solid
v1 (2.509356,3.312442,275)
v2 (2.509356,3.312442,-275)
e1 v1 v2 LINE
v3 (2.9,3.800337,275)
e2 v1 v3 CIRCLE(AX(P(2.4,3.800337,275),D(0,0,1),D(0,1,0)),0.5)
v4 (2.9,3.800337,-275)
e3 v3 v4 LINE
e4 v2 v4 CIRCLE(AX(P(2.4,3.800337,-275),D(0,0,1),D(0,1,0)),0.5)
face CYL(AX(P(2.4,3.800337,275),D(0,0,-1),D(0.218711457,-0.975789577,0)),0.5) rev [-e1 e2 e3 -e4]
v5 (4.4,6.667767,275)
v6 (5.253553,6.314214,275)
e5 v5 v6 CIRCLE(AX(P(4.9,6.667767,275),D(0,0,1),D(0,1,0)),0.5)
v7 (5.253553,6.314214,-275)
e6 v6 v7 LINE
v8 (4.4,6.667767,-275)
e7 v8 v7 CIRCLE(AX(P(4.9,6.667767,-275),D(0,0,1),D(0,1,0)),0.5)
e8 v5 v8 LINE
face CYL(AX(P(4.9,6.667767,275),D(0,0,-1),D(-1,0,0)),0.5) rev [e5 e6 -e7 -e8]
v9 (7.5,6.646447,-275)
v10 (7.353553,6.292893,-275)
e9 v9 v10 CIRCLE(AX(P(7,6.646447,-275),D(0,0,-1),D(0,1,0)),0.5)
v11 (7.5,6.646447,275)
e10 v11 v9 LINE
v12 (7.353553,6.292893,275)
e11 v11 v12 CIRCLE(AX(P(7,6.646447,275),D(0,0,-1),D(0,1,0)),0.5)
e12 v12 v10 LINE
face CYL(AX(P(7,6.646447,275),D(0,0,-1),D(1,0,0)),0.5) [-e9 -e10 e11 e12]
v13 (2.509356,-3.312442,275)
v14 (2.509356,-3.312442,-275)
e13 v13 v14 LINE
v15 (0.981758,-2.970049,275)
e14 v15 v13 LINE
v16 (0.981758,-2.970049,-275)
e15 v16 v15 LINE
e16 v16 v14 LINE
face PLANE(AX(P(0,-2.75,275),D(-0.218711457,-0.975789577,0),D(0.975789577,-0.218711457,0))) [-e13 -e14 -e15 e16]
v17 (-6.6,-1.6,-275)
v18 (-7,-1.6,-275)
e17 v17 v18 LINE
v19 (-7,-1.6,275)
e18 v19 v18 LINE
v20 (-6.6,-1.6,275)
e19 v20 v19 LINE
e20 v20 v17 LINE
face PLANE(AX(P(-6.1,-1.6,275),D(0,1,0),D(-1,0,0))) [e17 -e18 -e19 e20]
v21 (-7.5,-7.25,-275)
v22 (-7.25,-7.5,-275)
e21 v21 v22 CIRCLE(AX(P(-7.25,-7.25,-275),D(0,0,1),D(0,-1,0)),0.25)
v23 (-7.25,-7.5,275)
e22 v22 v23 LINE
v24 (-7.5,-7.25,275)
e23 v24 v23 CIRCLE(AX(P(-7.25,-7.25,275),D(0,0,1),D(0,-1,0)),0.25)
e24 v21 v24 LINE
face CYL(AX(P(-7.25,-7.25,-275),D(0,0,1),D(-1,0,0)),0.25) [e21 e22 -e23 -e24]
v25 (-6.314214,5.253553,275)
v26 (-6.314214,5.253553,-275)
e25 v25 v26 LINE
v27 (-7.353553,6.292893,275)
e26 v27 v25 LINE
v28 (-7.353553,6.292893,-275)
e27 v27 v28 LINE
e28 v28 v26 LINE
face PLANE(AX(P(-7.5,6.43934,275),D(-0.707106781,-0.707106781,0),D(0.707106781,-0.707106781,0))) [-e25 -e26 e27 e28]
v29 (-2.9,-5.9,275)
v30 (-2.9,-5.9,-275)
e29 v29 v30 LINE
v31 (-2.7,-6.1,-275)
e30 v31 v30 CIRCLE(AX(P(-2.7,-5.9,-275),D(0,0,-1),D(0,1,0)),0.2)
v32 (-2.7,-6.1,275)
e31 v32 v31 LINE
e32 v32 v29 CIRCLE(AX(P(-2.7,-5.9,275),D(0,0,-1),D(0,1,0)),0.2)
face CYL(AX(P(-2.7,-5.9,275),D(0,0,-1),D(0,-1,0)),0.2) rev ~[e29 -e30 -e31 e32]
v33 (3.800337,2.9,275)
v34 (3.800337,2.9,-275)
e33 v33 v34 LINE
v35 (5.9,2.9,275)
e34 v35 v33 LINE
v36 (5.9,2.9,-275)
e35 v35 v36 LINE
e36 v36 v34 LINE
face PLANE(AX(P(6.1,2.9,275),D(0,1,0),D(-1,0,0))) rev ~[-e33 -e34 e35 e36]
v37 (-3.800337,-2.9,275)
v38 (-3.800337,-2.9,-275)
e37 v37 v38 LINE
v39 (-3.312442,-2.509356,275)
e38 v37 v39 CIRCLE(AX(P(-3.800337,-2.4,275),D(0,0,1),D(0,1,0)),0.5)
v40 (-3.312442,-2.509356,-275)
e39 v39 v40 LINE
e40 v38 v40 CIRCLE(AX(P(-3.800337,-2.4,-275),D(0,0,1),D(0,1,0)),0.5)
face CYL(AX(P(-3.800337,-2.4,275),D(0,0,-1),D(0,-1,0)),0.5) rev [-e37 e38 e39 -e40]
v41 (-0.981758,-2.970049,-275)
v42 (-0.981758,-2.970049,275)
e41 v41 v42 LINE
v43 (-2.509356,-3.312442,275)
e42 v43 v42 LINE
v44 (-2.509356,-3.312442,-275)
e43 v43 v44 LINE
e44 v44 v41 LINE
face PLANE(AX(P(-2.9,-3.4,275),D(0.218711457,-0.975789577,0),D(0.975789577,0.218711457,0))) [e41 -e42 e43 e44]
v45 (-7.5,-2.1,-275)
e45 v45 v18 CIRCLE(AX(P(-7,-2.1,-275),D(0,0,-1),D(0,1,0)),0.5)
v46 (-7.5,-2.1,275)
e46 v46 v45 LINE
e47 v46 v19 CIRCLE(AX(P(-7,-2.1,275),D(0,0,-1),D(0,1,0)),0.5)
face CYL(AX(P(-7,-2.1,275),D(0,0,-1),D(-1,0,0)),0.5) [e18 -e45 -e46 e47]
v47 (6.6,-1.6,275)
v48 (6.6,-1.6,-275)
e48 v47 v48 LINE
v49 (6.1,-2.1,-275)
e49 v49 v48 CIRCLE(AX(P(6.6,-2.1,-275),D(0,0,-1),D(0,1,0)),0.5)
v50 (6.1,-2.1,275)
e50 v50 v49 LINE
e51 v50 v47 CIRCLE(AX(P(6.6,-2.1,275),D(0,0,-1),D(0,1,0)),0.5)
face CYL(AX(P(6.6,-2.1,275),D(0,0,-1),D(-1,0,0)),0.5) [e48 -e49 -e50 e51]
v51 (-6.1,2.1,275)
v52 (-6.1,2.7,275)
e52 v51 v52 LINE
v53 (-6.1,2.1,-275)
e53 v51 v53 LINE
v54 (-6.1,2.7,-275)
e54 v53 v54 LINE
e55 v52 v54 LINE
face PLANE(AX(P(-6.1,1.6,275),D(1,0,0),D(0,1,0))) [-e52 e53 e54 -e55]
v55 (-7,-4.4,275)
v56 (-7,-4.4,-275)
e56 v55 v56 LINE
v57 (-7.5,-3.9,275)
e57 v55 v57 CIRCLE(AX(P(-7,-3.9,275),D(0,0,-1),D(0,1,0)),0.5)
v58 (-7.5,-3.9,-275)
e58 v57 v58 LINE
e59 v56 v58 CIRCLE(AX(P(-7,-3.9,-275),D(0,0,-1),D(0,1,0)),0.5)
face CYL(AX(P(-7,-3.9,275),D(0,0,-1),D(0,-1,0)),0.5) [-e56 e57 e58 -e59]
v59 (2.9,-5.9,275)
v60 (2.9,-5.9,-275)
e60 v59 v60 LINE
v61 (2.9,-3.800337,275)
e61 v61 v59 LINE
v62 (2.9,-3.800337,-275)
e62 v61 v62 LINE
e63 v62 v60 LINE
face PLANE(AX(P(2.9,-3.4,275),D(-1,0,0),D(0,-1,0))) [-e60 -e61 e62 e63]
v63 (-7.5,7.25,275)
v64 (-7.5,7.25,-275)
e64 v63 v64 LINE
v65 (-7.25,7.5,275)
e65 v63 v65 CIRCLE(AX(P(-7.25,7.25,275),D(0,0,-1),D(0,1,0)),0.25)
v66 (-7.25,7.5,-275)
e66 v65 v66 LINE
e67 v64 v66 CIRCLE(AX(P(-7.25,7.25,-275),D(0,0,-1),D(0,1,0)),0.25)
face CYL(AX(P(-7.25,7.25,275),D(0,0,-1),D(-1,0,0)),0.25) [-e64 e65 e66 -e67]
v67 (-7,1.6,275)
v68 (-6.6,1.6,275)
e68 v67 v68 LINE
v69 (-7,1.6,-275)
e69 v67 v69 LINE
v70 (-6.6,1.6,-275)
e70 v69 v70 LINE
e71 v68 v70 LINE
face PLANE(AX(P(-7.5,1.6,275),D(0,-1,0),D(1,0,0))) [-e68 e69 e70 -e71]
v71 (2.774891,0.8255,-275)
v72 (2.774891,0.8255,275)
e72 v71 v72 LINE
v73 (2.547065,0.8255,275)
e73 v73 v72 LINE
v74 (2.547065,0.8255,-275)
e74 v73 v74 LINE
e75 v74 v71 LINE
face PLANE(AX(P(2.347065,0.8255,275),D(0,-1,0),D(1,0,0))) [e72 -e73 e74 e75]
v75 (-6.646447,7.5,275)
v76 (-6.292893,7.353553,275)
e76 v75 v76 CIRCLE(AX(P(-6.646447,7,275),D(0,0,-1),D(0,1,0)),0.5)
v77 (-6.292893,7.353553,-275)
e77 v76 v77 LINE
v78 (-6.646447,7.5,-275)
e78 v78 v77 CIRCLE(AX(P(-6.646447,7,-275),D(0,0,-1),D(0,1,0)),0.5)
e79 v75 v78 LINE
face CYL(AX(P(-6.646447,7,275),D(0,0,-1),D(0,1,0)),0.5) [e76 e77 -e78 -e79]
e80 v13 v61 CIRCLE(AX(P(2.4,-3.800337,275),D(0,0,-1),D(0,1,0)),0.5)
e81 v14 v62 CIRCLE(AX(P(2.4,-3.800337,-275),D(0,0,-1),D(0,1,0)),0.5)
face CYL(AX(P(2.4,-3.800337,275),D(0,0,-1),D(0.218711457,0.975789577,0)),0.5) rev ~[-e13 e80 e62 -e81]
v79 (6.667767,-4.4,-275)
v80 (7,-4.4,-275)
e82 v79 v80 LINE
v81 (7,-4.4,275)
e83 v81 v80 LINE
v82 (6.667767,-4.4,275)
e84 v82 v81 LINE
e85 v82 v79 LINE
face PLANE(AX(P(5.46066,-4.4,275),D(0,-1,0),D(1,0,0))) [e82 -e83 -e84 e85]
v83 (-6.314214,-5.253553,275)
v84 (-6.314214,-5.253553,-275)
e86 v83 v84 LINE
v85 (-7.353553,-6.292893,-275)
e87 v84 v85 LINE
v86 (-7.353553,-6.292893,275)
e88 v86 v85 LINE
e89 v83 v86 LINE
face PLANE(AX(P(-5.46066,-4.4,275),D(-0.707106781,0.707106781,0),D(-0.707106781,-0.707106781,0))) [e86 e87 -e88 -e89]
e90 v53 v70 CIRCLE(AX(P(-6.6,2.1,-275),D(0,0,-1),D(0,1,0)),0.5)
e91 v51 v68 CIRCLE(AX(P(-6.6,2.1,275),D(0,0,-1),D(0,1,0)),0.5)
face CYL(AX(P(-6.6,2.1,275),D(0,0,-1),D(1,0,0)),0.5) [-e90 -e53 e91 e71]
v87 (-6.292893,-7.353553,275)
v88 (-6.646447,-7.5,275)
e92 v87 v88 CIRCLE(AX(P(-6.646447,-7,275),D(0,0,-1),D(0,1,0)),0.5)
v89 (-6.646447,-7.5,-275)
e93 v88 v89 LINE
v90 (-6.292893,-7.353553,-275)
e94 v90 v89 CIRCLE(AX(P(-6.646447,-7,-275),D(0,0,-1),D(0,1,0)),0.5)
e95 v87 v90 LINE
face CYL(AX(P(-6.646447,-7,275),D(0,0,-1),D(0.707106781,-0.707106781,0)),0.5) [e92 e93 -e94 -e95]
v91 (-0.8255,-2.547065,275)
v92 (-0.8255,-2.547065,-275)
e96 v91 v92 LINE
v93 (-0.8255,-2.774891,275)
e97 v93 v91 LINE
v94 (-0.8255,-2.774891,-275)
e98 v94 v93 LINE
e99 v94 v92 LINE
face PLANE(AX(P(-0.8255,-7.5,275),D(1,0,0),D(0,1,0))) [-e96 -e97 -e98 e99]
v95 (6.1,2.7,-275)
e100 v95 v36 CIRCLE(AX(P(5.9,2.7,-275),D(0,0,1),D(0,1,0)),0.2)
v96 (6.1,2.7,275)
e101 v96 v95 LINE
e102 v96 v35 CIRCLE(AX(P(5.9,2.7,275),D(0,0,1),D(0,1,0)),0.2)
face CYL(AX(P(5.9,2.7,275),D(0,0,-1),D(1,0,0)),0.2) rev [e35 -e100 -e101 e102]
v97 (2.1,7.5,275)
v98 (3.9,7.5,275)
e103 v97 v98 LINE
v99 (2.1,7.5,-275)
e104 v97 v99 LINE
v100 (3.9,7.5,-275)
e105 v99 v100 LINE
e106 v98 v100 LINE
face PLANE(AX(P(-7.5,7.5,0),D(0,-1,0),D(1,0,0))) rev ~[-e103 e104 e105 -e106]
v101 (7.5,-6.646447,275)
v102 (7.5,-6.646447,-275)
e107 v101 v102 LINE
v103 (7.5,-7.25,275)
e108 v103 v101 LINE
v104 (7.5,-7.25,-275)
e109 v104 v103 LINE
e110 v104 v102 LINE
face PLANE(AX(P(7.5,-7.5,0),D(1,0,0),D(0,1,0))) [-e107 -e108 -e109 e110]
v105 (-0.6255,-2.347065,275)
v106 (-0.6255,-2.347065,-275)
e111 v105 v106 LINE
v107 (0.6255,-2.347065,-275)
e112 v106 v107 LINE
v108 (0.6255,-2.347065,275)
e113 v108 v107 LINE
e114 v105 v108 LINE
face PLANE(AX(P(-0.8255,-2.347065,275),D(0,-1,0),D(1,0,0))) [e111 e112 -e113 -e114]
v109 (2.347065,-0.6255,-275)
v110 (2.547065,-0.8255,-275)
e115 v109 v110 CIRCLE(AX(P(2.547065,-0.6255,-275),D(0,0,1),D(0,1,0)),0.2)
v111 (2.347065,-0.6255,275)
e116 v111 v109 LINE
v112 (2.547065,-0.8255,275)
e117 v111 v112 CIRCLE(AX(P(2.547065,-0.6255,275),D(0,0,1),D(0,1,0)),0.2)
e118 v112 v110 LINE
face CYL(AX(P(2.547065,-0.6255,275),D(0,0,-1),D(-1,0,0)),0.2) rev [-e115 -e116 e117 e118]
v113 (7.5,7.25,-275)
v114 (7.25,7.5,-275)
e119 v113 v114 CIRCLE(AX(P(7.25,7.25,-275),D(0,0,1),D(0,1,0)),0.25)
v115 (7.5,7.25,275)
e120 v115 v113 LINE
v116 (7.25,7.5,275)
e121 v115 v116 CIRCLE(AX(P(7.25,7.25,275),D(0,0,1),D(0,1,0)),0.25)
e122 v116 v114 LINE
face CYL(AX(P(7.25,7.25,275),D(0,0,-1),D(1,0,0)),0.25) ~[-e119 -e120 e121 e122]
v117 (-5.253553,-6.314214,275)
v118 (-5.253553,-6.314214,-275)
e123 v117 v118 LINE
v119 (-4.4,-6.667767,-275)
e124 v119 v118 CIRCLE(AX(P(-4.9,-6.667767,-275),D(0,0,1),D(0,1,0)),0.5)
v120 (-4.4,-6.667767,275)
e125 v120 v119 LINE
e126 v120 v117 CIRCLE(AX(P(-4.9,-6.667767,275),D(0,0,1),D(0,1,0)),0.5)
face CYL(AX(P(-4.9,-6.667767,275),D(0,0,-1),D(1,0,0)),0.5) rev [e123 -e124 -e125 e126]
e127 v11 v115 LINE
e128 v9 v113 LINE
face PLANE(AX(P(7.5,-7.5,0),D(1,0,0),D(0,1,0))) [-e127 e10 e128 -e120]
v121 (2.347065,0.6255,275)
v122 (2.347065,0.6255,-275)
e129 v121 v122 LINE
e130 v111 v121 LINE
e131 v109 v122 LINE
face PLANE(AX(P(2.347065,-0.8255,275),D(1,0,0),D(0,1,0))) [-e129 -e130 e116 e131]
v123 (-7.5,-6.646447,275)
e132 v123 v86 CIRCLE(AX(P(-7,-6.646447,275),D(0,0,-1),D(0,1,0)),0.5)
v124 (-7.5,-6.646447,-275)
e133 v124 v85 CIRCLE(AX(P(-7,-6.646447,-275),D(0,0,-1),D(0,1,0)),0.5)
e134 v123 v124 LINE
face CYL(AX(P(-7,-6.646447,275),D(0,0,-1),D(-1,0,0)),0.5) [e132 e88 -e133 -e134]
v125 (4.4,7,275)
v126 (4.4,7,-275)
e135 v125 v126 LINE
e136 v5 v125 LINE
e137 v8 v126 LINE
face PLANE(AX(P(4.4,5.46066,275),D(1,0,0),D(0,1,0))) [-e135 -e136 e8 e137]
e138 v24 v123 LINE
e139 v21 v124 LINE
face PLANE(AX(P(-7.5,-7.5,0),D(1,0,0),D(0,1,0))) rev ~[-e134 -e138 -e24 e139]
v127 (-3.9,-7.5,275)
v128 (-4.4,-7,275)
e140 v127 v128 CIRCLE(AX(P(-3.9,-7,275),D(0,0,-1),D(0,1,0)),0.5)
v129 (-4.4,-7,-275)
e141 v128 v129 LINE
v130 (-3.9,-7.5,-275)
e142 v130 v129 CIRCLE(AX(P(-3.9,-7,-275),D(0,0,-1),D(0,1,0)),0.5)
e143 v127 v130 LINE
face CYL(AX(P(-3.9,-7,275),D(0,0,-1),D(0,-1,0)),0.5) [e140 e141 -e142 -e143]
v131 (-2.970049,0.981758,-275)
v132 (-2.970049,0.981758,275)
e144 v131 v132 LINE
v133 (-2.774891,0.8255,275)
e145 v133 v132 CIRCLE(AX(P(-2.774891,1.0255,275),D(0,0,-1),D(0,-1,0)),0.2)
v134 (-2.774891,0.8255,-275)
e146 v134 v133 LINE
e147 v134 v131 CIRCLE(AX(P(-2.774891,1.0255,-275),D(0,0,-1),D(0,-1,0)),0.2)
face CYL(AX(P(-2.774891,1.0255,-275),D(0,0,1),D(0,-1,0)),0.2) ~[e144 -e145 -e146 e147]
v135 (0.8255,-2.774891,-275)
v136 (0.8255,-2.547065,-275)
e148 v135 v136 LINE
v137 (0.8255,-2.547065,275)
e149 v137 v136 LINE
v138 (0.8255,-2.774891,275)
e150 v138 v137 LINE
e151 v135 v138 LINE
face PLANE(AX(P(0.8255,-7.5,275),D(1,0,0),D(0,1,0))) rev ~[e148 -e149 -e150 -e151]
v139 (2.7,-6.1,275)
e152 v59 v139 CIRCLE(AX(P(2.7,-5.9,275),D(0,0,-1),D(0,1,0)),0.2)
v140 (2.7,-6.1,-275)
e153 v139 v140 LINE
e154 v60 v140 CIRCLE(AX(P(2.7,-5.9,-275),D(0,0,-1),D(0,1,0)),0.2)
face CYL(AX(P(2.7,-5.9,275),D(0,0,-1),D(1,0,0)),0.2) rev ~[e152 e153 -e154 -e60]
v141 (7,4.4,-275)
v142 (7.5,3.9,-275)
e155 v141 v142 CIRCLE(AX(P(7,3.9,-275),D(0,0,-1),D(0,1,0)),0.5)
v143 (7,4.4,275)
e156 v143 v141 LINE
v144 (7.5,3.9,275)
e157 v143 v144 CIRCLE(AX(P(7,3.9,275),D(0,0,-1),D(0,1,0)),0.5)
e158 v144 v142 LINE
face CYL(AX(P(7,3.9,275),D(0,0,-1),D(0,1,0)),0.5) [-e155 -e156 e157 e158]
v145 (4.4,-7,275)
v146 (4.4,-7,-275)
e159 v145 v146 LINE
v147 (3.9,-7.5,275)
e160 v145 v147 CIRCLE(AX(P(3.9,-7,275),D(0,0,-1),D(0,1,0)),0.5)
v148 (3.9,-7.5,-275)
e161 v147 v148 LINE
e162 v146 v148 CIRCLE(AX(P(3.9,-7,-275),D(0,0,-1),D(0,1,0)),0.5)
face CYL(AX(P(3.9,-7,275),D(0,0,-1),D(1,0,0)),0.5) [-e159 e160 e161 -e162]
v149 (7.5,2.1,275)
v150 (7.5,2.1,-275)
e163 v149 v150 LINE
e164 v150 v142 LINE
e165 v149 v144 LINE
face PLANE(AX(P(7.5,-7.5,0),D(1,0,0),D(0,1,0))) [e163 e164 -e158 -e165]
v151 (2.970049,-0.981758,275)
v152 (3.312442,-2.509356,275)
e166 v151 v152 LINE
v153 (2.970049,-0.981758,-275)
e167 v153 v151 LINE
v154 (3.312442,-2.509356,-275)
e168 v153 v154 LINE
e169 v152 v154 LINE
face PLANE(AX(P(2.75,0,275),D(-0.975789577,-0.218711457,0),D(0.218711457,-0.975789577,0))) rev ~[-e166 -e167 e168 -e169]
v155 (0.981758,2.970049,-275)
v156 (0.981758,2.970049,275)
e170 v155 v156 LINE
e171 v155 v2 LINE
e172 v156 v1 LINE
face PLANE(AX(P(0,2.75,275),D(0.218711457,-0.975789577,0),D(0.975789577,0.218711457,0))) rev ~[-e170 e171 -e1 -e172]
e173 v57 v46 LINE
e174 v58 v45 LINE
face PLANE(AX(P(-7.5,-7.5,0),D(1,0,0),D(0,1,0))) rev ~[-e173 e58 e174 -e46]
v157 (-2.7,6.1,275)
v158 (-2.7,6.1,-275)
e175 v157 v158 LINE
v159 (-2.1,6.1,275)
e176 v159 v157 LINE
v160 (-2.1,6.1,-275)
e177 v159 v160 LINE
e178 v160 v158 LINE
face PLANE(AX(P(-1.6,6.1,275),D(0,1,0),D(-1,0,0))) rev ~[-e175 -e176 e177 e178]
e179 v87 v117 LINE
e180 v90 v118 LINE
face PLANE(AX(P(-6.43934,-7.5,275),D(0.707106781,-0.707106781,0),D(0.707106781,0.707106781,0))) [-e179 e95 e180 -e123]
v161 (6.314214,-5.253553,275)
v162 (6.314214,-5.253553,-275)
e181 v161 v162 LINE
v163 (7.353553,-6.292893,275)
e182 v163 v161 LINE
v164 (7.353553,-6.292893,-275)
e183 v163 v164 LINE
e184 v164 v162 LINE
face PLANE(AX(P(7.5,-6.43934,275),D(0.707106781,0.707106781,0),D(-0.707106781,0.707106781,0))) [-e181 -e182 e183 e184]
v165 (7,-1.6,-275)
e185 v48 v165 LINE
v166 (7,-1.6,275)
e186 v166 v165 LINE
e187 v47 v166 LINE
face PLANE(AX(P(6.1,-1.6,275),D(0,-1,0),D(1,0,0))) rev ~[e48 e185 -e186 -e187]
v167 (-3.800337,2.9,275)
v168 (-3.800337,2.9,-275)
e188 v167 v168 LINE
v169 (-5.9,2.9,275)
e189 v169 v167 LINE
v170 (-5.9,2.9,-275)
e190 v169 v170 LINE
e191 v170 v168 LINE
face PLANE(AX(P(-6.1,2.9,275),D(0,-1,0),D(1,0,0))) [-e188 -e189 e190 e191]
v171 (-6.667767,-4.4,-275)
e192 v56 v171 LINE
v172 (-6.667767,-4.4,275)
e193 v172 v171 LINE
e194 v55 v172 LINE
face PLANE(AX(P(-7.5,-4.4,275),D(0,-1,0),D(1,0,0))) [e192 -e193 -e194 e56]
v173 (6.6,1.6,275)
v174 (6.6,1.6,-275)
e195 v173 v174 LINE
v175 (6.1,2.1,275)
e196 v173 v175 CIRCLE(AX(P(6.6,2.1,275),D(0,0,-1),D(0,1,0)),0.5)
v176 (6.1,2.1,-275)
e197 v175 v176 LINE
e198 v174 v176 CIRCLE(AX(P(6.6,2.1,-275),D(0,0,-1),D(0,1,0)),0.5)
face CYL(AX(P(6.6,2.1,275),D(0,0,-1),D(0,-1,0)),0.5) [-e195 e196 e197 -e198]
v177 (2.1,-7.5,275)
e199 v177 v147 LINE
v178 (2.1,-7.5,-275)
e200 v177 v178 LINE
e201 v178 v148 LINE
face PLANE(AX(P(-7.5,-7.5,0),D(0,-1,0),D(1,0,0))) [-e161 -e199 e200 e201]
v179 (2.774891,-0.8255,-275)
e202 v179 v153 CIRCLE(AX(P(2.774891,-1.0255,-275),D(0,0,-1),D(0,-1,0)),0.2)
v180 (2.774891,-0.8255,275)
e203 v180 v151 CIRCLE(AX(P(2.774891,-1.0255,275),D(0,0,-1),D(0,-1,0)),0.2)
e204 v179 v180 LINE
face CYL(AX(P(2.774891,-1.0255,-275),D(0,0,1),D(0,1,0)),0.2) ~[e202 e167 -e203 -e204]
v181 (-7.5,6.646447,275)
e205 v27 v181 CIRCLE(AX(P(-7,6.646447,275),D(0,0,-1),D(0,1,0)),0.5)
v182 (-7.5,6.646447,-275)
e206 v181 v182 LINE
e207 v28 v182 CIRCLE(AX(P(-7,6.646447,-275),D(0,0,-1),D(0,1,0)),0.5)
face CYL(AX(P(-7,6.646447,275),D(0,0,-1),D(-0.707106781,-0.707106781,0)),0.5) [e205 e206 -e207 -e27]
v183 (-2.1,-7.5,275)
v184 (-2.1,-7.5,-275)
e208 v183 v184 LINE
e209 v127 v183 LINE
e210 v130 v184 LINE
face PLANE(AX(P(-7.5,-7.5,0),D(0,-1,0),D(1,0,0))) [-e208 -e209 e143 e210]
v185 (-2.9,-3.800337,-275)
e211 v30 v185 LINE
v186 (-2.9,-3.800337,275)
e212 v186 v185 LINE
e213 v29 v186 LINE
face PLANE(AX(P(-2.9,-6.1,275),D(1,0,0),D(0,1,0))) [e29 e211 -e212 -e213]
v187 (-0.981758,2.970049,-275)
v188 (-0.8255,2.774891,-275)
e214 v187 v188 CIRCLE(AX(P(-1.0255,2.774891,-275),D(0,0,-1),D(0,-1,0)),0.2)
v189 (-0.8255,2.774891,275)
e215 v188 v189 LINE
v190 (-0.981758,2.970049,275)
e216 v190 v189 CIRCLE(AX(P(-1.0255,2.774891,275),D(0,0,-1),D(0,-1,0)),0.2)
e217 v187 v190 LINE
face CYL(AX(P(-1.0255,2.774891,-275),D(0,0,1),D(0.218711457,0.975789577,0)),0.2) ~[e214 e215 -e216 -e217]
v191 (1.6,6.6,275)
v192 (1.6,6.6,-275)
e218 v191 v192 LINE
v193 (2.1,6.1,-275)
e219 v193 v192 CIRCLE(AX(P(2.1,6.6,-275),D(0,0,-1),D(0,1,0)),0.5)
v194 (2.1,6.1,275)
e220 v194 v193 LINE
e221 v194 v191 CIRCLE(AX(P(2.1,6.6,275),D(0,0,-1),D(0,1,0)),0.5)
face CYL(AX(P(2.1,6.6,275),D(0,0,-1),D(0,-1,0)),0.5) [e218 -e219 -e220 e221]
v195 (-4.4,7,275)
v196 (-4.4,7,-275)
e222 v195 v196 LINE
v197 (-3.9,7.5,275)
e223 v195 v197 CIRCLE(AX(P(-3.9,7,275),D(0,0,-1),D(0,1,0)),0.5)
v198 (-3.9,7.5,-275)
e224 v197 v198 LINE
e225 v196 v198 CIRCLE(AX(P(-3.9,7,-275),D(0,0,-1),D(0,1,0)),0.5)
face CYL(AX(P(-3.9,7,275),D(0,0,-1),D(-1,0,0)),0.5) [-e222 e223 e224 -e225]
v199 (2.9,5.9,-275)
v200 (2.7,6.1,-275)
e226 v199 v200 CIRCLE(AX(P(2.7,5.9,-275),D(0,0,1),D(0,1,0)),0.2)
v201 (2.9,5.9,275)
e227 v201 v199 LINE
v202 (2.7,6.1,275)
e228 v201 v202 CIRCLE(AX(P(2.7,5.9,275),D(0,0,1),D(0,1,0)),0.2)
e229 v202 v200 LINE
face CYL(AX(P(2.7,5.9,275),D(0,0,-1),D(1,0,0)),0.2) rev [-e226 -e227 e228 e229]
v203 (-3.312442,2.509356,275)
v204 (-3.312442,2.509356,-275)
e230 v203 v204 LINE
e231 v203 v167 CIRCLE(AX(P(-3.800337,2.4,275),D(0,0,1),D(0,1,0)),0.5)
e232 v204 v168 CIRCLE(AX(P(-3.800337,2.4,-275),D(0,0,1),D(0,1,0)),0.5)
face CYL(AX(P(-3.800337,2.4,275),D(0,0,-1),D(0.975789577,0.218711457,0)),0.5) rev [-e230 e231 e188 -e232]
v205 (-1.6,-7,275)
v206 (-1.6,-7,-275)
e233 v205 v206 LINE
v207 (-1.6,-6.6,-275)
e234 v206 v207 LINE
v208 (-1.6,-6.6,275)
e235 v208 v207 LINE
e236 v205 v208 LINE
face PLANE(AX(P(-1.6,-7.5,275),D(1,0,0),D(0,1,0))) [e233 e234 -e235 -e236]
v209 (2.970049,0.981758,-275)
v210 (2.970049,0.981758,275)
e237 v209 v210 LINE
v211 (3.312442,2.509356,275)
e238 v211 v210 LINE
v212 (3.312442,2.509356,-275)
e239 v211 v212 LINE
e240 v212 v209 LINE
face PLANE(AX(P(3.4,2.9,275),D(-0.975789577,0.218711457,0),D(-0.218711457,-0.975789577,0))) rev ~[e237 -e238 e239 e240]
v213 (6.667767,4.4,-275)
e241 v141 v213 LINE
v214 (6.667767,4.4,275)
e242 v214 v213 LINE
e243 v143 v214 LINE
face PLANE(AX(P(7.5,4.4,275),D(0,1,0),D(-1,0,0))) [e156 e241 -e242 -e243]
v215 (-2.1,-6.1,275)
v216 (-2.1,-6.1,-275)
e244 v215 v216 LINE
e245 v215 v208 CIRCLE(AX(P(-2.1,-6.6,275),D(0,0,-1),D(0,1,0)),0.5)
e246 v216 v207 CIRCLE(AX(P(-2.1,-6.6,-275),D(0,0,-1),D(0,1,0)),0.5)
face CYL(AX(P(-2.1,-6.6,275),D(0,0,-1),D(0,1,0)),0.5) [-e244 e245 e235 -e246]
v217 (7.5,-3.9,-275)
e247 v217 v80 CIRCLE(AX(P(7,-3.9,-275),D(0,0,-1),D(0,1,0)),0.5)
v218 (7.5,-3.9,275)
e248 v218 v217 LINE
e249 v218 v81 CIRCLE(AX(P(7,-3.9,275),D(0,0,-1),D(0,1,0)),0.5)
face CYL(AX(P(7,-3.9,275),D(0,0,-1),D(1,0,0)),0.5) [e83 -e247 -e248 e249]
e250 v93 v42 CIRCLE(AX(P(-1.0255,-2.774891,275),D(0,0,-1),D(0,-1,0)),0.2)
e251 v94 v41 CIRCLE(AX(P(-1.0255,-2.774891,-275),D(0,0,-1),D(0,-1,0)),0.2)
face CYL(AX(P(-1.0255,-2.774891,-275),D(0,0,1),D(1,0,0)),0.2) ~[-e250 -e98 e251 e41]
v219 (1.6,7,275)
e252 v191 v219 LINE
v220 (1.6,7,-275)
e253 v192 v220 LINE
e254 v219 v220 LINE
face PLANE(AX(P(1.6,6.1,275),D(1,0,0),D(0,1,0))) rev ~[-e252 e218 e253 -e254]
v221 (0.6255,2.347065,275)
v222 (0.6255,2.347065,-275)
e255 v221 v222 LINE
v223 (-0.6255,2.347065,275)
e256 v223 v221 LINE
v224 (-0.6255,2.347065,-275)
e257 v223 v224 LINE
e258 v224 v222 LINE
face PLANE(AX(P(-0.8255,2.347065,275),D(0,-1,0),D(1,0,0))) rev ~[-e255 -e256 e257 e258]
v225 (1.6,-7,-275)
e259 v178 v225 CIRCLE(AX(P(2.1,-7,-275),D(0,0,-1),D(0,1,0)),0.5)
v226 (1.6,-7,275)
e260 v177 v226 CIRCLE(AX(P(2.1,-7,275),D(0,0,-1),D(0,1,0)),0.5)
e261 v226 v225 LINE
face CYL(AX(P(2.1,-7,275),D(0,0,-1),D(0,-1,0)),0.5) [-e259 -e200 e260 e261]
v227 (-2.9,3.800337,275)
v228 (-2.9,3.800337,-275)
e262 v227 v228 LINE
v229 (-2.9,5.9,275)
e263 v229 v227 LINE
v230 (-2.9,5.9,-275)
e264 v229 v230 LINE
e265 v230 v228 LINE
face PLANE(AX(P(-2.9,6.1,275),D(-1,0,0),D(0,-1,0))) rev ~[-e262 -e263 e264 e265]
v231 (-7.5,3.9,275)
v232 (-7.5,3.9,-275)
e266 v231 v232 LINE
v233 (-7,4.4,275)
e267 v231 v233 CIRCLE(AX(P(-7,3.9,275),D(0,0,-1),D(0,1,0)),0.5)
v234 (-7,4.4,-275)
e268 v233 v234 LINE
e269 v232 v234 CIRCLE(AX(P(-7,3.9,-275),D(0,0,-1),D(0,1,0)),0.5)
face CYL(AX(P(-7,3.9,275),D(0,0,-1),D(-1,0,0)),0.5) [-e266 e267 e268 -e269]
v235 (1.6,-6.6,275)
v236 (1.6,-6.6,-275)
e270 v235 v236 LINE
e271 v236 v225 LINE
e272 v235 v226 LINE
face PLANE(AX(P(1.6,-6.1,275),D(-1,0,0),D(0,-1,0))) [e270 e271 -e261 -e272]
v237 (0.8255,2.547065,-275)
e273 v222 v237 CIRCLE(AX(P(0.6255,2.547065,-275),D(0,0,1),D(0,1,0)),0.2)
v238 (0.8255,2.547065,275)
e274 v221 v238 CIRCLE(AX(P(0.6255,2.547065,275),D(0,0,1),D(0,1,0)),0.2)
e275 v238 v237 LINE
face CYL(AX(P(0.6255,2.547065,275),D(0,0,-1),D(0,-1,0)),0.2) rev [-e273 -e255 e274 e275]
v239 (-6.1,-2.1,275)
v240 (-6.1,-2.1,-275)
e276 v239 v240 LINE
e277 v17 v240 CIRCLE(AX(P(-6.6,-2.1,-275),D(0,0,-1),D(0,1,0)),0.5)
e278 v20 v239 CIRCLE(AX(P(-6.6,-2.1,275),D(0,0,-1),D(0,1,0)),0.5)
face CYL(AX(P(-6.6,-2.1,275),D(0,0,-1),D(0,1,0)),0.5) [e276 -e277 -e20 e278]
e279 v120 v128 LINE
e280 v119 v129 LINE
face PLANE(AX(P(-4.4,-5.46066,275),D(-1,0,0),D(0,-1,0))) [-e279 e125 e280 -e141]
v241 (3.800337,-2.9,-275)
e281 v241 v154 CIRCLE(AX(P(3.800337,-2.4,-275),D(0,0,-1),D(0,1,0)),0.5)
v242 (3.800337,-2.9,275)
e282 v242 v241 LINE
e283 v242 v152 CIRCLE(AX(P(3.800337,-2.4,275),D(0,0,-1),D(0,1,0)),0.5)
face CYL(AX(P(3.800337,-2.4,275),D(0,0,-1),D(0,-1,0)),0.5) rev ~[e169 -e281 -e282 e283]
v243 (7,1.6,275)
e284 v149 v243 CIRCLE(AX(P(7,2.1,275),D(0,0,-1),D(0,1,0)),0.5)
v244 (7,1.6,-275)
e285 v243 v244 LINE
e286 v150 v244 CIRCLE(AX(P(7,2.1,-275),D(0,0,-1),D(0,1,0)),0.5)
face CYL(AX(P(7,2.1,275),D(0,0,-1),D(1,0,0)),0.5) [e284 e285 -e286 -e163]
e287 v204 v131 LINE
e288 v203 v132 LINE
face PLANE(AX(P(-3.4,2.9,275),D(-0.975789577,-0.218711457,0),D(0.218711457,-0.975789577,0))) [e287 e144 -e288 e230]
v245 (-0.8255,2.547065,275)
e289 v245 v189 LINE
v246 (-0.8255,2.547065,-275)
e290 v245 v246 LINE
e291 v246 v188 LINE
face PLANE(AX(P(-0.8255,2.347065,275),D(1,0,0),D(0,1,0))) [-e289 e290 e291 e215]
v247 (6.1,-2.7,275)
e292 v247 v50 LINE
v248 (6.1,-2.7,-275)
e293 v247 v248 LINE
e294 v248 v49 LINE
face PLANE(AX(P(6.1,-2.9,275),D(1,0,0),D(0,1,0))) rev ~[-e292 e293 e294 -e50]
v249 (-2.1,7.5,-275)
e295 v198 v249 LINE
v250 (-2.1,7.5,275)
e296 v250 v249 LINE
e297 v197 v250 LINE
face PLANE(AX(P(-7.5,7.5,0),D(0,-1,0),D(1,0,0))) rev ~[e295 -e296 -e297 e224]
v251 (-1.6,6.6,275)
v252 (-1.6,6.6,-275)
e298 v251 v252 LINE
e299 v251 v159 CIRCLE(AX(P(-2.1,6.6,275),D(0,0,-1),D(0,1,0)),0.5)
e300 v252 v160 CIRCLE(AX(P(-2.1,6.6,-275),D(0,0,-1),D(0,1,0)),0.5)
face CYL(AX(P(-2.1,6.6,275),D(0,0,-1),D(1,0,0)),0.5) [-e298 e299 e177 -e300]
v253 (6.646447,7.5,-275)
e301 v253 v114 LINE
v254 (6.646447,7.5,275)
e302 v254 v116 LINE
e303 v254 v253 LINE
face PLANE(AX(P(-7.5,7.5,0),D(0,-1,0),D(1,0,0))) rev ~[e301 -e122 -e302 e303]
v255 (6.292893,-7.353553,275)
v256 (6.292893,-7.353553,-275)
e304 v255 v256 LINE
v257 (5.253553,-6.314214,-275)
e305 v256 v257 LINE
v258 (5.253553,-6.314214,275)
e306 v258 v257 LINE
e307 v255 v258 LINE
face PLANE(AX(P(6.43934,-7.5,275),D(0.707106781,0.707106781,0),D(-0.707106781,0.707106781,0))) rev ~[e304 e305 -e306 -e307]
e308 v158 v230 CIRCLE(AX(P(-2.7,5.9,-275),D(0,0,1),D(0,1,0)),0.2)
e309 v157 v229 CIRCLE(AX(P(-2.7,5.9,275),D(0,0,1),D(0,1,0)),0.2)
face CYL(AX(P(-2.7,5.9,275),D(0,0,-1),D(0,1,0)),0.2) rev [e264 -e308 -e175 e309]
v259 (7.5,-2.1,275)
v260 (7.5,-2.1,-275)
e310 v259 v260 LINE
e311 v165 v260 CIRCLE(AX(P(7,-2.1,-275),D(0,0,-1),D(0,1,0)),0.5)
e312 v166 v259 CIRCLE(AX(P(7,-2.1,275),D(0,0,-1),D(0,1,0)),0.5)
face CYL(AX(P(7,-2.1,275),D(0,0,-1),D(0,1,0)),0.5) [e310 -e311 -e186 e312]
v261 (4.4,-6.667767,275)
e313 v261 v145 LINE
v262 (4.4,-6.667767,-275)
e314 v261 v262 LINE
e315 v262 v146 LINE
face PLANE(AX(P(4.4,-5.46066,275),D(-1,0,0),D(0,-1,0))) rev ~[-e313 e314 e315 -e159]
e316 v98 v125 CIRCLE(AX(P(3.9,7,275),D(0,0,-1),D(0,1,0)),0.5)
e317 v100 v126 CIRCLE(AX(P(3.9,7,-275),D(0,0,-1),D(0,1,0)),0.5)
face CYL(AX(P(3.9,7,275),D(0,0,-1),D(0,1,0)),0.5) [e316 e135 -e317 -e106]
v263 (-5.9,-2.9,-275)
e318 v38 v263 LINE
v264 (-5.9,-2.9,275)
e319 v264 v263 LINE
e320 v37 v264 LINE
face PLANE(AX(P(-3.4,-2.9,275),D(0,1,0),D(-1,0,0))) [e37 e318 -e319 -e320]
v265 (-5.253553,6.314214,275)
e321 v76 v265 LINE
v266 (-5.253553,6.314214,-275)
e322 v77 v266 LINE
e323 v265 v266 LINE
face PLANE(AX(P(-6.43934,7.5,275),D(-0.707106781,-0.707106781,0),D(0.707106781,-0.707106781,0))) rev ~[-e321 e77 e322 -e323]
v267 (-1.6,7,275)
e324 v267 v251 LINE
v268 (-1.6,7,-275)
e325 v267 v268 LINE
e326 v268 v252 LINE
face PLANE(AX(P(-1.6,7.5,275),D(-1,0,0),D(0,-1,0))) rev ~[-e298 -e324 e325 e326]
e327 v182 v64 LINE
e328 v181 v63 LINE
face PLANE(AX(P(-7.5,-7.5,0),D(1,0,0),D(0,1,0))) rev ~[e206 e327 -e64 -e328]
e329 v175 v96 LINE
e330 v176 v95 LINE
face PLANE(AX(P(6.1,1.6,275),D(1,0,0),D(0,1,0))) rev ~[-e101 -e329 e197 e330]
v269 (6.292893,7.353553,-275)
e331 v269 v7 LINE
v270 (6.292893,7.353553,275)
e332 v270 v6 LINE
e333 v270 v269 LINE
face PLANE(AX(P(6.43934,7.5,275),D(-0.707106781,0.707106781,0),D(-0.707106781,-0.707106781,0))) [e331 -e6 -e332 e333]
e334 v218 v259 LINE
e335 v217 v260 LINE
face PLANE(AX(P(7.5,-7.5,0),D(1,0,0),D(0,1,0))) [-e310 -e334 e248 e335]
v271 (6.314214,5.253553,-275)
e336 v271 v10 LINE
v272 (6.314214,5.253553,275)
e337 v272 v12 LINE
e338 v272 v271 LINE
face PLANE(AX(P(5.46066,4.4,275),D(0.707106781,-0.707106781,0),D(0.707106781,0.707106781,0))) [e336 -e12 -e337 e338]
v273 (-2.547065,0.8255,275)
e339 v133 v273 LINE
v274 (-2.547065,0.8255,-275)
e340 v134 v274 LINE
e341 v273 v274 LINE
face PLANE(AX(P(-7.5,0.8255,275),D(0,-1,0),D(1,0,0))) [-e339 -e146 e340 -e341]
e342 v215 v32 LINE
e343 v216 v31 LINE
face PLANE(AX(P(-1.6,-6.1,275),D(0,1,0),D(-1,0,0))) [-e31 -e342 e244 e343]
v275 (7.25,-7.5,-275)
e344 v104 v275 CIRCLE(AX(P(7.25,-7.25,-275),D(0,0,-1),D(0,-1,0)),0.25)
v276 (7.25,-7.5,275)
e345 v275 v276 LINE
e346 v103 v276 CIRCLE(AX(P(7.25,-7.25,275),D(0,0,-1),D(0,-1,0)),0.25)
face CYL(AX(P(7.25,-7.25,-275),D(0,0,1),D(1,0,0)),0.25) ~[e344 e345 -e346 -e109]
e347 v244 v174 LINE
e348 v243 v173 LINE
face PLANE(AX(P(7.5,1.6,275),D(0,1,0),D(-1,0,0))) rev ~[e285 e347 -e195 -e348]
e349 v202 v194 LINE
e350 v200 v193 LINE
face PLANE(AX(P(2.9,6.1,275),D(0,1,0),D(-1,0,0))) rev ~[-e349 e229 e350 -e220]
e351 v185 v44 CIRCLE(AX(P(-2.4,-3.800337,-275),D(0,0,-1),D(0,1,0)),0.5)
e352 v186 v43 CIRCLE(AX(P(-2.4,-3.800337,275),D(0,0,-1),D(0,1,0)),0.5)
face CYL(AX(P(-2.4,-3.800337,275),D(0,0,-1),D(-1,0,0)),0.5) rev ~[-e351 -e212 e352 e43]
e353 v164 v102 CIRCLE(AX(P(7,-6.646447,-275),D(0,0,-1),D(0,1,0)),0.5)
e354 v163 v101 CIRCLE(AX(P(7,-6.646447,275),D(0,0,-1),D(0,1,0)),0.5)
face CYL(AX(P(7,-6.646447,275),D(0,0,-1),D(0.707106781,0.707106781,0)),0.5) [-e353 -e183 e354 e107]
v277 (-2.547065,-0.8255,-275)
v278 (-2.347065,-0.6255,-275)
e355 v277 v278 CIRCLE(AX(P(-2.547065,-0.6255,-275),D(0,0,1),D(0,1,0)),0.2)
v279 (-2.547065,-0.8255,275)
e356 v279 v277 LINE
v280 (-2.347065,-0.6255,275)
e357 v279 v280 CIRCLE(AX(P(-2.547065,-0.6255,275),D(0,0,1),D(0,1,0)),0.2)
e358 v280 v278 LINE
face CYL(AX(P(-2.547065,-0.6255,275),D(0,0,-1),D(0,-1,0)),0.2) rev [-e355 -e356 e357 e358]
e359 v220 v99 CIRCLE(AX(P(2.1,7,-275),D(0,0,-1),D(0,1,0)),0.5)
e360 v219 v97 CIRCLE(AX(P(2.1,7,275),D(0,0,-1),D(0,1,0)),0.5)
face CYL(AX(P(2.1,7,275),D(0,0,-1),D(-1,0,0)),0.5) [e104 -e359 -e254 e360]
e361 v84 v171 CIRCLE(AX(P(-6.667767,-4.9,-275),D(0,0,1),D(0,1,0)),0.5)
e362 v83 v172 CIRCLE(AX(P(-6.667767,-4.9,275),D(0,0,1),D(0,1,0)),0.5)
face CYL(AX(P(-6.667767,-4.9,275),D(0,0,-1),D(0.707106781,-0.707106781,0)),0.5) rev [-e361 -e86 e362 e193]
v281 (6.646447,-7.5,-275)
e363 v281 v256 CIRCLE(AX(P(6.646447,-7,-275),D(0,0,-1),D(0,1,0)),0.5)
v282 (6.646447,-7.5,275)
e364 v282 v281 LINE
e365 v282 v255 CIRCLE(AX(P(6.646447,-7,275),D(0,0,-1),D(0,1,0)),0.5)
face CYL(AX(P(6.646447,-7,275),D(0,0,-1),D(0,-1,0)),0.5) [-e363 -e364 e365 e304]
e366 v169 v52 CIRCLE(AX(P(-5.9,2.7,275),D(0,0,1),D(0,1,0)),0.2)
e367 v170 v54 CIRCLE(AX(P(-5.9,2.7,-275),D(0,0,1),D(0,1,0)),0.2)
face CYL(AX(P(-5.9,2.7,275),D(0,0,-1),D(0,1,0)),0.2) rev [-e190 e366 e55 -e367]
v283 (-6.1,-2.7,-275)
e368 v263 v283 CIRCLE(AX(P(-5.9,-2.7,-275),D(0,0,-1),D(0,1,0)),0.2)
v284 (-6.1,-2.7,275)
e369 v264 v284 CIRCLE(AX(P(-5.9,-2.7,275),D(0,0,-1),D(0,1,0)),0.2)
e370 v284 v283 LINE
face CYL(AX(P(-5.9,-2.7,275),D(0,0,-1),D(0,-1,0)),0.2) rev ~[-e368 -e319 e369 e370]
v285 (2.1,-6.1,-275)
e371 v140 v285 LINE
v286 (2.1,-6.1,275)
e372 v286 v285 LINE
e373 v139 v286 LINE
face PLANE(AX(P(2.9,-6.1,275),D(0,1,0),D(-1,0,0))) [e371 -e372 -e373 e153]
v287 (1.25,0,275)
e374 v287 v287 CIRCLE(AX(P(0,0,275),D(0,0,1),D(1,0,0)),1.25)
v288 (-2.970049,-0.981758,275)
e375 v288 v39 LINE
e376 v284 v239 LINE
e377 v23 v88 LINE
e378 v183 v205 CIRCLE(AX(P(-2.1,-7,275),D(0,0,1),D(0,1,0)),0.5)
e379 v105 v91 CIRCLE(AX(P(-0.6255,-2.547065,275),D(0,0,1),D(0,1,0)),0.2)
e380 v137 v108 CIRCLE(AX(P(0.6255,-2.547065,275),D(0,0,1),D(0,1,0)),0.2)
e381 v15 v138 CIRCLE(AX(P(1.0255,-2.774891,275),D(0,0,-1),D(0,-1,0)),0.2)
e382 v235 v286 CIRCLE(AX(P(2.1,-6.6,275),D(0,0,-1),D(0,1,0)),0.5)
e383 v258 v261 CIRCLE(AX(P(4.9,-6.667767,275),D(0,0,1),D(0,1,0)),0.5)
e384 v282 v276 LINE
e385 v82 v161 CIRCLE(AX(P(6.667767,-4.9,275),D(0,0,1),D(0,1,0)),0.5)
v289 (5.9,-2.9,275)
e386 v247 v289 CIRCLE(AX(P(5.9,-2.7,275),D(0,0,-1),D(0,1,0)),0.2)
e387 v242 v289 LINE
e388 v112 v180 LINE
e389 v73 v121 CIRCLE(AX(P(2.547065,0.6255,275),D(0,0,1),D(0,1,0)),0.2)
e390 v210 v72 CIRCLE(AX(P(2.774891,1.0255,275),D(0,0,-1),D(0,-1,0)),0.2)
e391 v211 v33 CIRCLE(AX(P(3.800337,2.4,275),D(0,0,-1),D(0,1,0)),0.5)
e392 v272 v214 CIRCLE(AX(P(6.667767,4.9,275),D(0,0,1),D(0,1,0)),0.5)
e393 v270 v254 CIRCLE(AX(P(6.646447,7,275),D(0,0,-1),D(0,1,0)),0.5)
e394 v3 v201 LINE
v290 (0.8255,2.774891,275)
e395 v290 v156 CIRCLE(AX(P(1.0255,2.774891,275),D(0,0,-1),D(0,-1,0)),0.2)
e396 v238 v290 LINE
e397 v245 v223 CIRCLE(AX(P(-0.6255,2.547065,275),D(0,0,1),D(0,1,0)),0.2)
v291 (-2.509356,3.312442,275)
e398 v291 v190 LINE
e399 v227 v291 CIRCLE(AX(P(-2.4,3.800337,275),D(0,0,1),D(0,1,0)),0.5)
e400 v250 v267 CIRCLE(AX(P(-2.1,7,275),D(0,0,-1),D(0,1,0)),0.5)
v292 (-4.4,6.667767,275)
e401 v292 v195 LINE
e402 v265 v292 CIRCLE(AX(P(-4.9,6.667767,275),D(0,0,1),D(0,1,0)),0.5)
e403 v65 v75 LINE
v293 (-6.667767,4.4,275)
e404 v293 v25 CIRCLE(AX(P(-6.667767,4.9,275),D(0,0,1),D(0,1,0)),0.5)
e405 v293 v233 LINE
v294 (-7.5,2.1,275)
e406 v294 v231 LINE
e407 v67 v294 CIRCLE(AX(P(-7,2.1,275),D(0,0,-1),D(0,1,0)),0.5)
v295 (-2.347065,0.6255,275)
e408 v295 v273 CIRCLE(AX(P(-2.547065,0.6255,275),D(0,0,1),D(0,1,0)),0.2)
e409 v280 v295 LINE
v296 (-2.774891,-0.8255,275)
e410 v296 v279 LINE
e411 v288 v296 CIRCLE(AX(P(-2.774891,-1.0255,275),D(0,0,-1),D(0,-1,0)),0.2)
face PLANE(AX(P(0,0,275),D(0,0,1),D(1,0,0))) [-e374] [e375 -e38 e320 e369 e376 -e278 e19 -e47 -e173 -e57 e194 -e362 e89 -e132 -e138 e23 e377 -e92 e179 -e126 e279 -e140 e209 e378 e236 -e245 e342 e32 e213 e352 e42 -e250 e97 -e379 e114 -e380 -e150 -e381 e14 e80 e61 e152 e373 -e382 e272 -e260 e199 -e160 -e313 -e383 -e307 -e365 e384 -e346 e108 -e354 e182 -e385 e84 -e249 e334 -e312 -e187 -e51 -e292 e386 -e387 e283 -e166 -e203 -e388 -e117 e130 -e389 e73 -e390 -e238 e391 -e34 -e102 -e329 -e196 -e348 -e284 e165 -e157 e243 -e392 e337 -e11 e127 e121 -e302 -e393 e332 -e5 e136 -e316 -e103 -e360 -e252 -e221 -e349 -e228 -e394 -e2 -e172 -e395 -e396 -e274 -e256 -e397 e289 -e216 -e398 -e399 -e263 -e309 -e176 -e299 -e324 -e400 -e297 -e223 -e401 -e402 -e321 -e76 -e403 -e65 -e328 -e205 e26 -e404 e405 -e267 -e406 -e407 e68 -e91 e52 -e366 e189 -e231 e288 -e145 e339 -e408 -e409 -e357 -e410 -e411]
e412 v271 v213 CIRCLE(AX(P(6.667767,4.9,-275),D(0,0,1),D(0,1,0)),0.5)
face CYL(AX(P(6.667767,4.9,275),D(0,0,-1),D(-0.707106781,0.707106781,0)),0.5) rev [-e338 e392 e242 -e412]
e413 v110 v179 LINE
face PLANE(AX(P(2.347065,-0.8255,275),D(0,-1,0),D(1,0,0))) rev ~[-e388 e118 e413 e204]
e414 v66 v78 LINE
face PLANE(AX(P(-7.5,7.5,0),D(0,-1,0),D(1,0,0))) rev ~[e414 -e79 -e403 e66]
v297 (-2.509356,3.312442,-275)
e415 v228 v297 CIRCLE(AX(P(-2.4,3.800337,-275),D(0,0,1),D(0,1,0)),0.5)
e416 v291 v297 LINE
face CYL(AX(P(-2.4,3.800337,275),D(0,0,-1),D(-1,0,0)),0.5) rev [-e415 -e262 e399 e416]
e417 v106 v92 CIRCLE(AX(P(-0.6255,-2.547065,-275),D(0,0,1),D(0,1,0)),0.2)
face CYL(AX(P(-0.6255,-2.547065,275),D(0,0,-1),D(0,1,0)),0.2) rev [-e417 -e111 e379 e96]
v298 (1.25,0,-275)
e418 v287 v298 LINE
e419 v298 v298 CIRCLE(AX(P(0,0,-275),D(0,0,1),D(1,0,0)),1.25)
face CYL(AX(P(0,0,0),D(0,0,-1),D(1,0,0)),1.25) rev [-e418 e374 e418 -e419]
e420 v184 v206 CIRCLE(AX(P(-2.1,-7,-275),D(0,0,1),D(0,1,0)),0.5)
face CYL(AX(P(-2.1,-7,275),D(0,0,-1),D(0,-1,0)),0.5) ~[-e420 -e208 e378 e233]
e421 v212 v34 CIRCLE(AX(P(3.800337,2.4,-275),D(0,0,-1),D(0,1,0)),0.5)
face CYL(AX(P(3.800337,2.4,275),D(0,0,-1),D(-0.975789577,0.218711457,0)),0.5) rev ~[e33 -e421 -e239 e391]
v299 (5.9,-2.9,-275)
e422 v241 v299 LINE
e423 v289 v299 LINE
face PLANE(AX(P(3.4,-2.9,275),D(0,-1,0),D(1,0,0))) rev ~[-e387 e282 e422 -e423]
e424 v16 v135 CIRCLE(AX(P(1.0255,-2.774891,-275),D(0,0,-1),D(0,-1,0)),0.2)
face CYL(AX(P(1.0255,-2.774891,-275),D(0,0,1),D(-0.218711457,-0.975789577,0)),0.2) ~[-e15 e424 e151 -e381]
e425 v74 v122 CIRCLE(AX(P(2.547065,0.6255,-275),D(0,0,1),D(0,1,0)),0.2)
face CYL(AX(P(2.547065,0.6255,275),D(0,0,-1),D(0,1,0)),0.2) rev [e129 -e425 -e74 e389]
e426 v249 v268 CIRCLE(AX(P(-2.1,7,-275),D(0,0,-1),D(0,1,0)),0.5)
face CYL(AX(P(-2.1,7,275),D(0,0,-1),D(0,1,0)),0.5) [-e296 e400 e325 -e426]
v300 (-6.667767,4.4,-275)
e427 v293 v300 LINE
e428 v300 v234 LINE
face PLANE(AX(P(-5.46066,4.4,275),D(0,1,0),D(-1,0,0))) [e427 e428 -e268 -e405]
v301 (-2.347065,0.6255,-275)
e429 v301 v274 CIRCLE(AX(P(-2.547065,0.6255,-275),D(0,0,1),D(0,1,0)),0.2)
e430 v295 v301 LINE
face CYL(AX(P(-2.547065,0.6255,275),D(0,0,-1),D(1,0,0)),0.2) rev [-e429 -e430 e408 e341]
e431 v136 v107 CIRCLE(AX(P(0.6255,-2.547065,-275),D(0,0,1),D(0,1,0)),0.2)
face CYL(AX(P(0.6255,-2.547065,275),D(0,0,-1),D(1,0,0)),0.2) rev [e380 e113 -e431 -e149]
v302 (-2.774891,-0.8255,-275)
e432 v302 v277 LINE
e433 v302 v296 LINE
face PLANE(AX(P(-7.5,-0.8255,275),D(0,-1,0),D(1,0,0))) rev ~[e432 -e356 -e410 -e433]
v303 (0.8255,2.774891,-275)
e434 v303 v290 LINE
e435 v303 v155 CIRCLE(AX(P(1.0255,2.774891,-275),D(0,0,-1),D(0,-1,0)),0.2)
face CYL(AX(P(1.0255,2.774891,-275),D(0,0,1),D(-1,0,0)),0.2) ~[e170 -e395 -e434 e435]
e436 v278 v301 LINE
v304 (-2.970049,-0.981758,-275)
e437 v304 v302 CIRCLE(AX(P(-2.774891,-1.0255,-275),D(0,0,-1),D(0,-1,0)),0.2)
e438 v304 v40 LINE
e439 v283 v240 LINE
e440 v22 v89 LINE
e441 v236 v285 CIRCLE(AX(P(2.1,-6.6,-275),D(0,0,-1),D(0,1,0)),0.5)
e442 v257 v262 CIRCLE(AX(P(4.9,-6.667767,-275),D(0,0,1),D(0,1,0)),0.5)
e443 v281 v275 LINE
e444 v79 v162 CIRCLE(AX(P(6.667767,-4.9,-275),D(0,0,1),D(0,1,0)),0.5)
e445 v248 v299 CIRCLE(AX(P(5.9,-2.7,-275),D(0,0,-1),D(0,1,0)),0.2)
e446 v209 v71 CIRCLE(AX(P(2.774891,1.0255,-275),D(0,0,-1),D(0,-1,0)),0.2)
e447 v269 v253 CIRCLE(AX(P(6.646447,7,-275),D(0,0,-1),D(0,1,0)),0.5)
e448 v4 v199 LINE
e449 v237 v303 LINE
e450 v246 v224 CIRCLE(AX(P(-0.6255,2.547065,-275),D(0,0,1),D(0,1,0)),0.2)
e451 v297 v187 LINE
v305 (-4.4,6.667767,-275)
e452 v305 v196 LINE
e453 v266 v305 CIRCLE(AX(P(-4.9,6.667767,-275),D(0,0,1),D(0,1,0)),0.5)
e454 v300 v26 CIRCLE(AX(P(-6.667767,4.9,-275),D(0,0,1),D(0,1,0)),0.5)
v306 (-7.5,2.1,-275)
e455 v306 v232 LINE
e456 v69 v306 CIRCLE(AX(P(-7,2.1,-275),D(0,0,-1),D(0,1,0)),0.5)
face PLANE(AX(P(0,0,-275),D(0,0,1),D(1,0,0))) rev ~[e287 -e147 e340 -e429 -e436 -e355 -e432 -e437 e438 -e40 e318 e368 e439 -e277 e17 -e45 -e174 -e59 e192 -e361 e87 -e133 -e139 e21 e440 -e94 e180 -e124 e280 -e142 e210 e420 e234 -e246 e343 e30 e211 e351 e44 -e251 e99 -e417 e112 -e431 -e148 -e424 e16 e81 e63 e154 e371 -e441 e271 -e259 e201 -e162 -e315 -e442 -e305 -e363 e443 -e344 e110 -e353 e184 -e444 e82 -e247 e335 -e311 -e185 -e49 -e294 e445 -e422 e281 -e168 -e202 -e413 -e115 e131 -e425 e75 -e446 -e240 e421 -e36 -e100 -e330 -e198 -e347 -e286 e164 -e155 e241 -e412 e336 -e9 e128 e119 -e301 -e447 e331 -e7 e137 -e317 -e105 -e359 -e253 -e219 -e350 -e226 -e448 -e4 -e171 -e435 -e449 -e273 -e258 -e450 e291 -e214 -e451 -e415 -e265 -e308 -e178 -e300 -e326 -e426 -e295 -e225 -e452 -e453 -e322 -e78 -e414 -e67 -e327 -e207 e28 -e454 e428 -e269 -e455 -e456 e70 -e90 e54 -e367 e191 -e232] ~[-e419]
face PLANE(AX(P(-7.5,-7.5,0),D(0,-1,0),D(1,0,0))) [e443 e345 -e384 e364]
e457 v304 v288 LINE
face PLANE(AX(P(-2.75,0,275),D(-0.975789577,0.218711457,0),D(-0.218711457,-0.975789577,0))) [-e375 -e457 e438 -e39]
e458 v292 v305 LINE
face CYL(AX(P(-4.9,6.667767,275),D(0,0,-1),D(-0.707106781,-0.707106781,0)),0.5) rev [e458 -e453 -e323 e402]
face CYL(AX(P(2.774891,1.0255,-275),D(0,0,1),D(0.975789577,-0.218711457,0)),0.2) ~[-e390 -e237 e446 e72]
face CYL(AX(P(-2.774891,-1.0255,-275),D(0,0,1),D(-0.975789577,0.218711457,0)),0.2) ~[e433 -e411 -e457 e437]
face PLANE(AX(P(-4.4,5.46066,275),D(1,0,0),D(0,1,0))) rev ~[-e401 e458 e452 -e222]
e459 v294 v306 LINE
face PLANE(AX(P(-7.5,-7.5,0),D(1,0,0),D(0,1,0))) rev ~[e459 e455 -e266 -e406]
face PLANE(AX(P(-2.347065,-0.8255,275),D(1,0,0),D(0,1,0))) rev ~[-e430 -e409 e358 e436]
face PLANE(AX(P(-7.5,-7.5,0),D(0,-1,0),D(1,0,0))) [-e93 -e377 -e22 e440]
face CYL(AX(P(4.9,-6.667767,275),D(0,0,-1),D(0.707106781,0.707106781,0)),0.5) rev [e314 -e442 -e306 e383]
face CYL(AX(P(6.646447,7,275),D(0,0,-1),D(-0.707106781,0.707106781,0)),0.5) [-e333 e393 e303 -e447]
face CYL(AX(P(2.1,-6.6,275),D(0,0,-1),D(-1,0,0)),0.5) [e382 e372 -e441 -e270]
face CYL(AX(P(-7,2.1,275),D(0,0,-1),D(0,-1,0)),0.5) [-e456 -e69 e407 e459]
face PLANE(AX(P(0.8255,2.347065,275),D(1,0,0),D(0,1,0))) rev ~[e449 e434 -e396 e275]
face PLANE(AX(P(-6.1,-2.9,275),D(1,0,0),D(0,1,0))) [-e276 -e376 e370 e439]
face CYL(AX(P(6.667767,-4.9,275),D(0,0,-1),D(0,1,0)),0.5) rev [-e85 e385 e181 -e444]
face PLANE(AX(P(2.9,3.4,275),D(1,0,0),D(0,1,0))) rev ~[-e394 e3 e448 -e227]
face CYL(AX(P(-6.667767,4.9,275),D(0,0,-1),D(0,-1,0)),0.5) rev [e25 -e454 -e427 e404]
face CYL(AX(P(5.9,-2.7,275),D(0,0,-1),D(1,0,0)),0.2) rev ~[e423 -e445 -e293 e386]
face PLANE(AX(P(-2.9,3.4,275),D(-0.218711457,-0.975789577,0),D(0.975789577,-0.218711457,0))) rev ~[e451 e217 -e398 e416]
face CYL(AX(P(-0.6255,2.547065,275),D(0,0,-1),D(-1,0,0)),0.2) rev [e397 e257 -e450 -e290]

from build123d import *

# Parameters (mm, degrees)
SKETCH1_W           = 15
SKETCH1_H           = 15
SKETCH1_R           = 1.25
BOSS_EXTRUDE1_DEPTH = 275
FILLET1_R           = 0.25
CUT_EXTRUDE1_DEPTH  = 551.10226322
CUT_EXTRUDE3_DEPTH  = 551.10226322
FILLET3_R           = 0.5
FILLET4_R           = 0.5
FILLET5_R           = 3
FILLET6_R           = 0.2
CUT_EXTRUDE4_DEPTH  = 551.10226322
FILLET8_R           = 0.5
SKETCH6_W           = 5.1529354
SKETCH6_H           = 1.651
SKETCH6_W_2         = 1.651
SKETCH6_H_2         = 5.1529354
CUT_EXTRUDE5_DEPTH  = 551.10226322
FILLET10_R          = 0.2


with BuildPart() as part:
    # Sketch1 → Boss-Extrude1 (new, symmetric)
    with BuildSketch(Plane.XY):
        Rectangle(SKETCH1_W, SKETCH1_H)
        Circle(SKETCH1_R, mode=Mode.SUBTRACT)
    extrude(amount=BOSS_EXTRUDE1_DEPTH, both=True)

    # Fillet1
    fillet1_edges = [part.edges().sort_by_distance(p)[0] for p in [
        (7.5, -7.5, 0),
        (-7.5, -7.5, 0),
        (-7.5, 7.5, 0),
        (7.5, 7.5, 0),
    ]]
    fillet(fillet1_edges, radius=FILLET1_R)

    # Sketch2 → Cut-Extrude1 (cut, through all)
    with BuildSketch(Plane.XY.offset(275)):
        Polygon((-7.5, 1.6), (-6.1, 1.6), (-6.1, 2.9), (-3.4, 2.9), (-3.4, -2.9), (-6.1, -2.9), (-6.1, -1.6), (-7.5, -1.6), align=None)
        Polygon((2.9, 6.1), (1.6, 6.1), (1.6, 7.5), (-1.6, 7.5), (-1.6, 6.1), (-2.9, 6.1), (-2.9, 3.4), (2.9, 3.4), align=None)
        Polygon((-1.6, -7.5), (-1.6, -6.1), (-2.9, -6.1), (-2.9, -3.4), (2.9, -3.4), (2.9, -6.1), (1.6, -6.1), (1.6, -7.5), align=None)
        Polygon((6.1, -2.9), (6.1, -1.6), (7.5, -1.6), (7.5, 1.6), (6.1, 1.6), (6.1, 2.9), (3.4, 2.9), (3.4, -2.9), align=None)
    extrude(amount=-CUT_EXTRUDE1_DEPTH, mode=Mode.SUBTRACT)

    # Sketch4 → Cut-Extrude3 (cut, through all)
    with BuildSketch(Plane.XY.offset(275)):
        Polygon((-3.4, 2.9), (-2.75, 0), (-3.4, -2.9), align=None)
        Polygon((-2.9, 3.4), (0, 2.75), (2.9, 3.4), align=None)
        Polygon((3.4, 2.9), (2.75, 0), (3.4, -2.9), align=None)
        Polygon((-2.9, -3.4), (0, -2.75), (2.9, -3.4), align=None)
    extrude(amount=-CUT_EXTRUDE3_DEPTH, mode=Mode.SUBTRACT)

    # Fillet3
    fillet3_edges = [part.edges().sort_by_distance(p)[0] for p in [
        (1.6, -7.5, 0),
        (-1.6, -7.5, 0),
        (-1.6, -6.1, 0),
        (1.6, -6.1, 0),
        (6.1, 1.6, 0),
        (7.5, 1.6, 0),
        (7.5, -1.6, 0),
        (6.1, -1.6, 0),
        (-7.5, -1.6, 0),
        (-7.5, 1.6, 0),
        (-6.1, 1.6, 0),
        (-6.1, -1.6, 0),
        (-1.6, 6.1, 0),
        (-1.6, 7.5, 0),
        (1.6, 7.5, 0),
        (1.6, 6.1, 0),
    ]]
    fillet(fillet3_edges, radius=FILLET3_R)

    # Fillet4
    fillet4_edges = [part.edges().sort_by_distance(p)[0] for p in [
        (-2.9, -3.4, 0),
        (2.9, -3.4, 0),
        (3.4, -2.9, 0),
        (3.4, 2.9, 0),
        (-3.4, 2.9, 0),
        (-3.4, -2.9, 0),
        (2.9, 3.4, 0),
        (-2.9, 3.4, 0),
    ]]
    fillet(fillet4_edges, radius=FILLET4_R)

    # Fillet5
    fillet5_edges = [part.edges().sort_by_distance(p)[0] for p in [
        (-2.75, 0, 0),
        (0, 2.75, 0),
        (2.75, 0, 0),
        (0, -2.75, 0),
    ]]
    fillet(fillet5_edges, radius=FILLET5_R)

    # Fillet6
    fillet6_edges = [part.edges().sort_by_distance(p)[0] for p in [
        (-2.9, -6.1, 0),
        (2.9, -6.1, 0),
        (6.1, -2.9, 0),
        (6.1, 2.9, 0),
        (-6.1, 2.9, 0),
        (-6.1, -2.9, 0),
        (2.9, 6.1, 0),
        (-2.9, 6.1, 0),
    ]]
    fillet(fillet6_edges, radius=FILLET6_R)

    # Sketch5 → Cut-Extrude4 (cut, through all)
    with BuildSketch(Plane.XY.offset(275)):
        Polygon((-7.5, 6.439339828), (-5.460660172, 4.4), (-7.5, 4.4), align=None)
        Polygon((-6.439339828, 7.5), (-4.4, 5.460660172), (-4.4, 7.5), align=None)
        Polygon((4.4, 7.5), (6.439339828, 7.5), (4.4, 5.460660172), align=None)
        Polygon((7.5, 6.439339828), (7.5, 4.4), (5.460660172, 4.4), align=None)
        Polygon((7.5, -6.439339828), (5.460660172, -4.4), (7.5, -4.4), align=None)
        Polygon((6.439339828, -7.5), (4.4, -5.460660172), (4.4, -7.5), align=None)
        Polygon((-4.4, -7.5), (-6.439339828, -7.5), (-4.4, -5.460660172), align=None)
        Polygon((-7.5, -6.439339828), (-7.5, -4.4), (-5.460660172, -4.4), align=None)
    extrude(amount=-CUT_EXTRUDE4_DEPTH, mode=Mode.SUBTRACT)

    # Fillet8
    fillet8_edges = [part.edges().sort_by_distance(p)[0] for p in [
        (-7.5, 4.4, 0),
        (-7.5, 6.439339828, 0),
        (-5.460660172, 4.4, 0),
        (7.5, -4.4, 0),
        (7.5, -6.439339828, 0),
        (5.460660172, -4.4, 0),
        (5.460660172, 4.4, 0),
        (7.5, 6.439339828, 0),
        (7.5, 4.4, 0),
        (-4.4, 7.5, 0),
        (-4.4, 5.460660172, 0),
        (-6.439339828, 7.5, 0),
        (-5.460660172, -4.4, 0),
        (-7.5, -6.439339828, 0),
        (-7.5, -4.4, 0),
        (4.4, 5.460660172, 0),
        (4.4, 7.5, 0),
        (6.439339828, 7.5, 0),
        (6.439339828, -7.5, 0),
        (4.4, -7.5, 0),
        (4.4, -5.460660172, 0),
        (-6.439339828, -7.5, 0),
        (-4.4, -5.460660172, 0),
        (-4.4, -7.5, 0),
    ]]
    fillet(fillet8_edges, radius=FILLET8_R)

    # Sketch6 → Cut-Extrude5 (cut, through all)
    with BuildSketch(Plane.XY.offset(275)):
        with Locations((4.9235323, 0)):
            Rectangle(SKETCH6_W, SKETCH6_H)
        with Locations((0, -4.9235323)):
            Rectangle(SKETCH6_W_2, SKETCH6_H_2)
        with Locations((-4.9235323, 0)):
            Rectangle(SKETCH6_W, SKETCH6_H)
        with Locations((0, 4.9235323)):
            Rectangle(SKETCH6_W_2, SKETCH6_H_2)
    extrude(amount=-CUT_EXTRUDE5_DEPTH, mode=Mode.SUBTRACT)

    # Fillet10
    fillet10_edges = [part.edges().sort_by_distance(p)[0] for p in [
        (0.8255, -2.935025862, 0),
        (-0.8255, -2.935025862, 0),
        (0.8255, -2.3470646, 0),
        (-0.8255, -2.3470646, 0),
        (2.935025862, 0.8255, 0),
        (2.935025862, -0.8255, 0),
        (2.3470646, 0.8255, 0),
        (2.3470646, -0.8255, 0),
        (-2.935025862, -0.8255, 0),
        (-2.935025862, 0.8255, 0),
        (-2.3470646, -0.8255, 0),
        (-2.3470646, 0.8255, 0),
        (-0.8255, 2.935025862, 0),
        (0.8255, 2.935025862, 0),
        (-0.8255, 2.3470646, 0),
        (0.8255, 2.3470646, 0),
    ]]
    fillet(fillet10_edges, radius=FILLET10_R)


solid = part.part
